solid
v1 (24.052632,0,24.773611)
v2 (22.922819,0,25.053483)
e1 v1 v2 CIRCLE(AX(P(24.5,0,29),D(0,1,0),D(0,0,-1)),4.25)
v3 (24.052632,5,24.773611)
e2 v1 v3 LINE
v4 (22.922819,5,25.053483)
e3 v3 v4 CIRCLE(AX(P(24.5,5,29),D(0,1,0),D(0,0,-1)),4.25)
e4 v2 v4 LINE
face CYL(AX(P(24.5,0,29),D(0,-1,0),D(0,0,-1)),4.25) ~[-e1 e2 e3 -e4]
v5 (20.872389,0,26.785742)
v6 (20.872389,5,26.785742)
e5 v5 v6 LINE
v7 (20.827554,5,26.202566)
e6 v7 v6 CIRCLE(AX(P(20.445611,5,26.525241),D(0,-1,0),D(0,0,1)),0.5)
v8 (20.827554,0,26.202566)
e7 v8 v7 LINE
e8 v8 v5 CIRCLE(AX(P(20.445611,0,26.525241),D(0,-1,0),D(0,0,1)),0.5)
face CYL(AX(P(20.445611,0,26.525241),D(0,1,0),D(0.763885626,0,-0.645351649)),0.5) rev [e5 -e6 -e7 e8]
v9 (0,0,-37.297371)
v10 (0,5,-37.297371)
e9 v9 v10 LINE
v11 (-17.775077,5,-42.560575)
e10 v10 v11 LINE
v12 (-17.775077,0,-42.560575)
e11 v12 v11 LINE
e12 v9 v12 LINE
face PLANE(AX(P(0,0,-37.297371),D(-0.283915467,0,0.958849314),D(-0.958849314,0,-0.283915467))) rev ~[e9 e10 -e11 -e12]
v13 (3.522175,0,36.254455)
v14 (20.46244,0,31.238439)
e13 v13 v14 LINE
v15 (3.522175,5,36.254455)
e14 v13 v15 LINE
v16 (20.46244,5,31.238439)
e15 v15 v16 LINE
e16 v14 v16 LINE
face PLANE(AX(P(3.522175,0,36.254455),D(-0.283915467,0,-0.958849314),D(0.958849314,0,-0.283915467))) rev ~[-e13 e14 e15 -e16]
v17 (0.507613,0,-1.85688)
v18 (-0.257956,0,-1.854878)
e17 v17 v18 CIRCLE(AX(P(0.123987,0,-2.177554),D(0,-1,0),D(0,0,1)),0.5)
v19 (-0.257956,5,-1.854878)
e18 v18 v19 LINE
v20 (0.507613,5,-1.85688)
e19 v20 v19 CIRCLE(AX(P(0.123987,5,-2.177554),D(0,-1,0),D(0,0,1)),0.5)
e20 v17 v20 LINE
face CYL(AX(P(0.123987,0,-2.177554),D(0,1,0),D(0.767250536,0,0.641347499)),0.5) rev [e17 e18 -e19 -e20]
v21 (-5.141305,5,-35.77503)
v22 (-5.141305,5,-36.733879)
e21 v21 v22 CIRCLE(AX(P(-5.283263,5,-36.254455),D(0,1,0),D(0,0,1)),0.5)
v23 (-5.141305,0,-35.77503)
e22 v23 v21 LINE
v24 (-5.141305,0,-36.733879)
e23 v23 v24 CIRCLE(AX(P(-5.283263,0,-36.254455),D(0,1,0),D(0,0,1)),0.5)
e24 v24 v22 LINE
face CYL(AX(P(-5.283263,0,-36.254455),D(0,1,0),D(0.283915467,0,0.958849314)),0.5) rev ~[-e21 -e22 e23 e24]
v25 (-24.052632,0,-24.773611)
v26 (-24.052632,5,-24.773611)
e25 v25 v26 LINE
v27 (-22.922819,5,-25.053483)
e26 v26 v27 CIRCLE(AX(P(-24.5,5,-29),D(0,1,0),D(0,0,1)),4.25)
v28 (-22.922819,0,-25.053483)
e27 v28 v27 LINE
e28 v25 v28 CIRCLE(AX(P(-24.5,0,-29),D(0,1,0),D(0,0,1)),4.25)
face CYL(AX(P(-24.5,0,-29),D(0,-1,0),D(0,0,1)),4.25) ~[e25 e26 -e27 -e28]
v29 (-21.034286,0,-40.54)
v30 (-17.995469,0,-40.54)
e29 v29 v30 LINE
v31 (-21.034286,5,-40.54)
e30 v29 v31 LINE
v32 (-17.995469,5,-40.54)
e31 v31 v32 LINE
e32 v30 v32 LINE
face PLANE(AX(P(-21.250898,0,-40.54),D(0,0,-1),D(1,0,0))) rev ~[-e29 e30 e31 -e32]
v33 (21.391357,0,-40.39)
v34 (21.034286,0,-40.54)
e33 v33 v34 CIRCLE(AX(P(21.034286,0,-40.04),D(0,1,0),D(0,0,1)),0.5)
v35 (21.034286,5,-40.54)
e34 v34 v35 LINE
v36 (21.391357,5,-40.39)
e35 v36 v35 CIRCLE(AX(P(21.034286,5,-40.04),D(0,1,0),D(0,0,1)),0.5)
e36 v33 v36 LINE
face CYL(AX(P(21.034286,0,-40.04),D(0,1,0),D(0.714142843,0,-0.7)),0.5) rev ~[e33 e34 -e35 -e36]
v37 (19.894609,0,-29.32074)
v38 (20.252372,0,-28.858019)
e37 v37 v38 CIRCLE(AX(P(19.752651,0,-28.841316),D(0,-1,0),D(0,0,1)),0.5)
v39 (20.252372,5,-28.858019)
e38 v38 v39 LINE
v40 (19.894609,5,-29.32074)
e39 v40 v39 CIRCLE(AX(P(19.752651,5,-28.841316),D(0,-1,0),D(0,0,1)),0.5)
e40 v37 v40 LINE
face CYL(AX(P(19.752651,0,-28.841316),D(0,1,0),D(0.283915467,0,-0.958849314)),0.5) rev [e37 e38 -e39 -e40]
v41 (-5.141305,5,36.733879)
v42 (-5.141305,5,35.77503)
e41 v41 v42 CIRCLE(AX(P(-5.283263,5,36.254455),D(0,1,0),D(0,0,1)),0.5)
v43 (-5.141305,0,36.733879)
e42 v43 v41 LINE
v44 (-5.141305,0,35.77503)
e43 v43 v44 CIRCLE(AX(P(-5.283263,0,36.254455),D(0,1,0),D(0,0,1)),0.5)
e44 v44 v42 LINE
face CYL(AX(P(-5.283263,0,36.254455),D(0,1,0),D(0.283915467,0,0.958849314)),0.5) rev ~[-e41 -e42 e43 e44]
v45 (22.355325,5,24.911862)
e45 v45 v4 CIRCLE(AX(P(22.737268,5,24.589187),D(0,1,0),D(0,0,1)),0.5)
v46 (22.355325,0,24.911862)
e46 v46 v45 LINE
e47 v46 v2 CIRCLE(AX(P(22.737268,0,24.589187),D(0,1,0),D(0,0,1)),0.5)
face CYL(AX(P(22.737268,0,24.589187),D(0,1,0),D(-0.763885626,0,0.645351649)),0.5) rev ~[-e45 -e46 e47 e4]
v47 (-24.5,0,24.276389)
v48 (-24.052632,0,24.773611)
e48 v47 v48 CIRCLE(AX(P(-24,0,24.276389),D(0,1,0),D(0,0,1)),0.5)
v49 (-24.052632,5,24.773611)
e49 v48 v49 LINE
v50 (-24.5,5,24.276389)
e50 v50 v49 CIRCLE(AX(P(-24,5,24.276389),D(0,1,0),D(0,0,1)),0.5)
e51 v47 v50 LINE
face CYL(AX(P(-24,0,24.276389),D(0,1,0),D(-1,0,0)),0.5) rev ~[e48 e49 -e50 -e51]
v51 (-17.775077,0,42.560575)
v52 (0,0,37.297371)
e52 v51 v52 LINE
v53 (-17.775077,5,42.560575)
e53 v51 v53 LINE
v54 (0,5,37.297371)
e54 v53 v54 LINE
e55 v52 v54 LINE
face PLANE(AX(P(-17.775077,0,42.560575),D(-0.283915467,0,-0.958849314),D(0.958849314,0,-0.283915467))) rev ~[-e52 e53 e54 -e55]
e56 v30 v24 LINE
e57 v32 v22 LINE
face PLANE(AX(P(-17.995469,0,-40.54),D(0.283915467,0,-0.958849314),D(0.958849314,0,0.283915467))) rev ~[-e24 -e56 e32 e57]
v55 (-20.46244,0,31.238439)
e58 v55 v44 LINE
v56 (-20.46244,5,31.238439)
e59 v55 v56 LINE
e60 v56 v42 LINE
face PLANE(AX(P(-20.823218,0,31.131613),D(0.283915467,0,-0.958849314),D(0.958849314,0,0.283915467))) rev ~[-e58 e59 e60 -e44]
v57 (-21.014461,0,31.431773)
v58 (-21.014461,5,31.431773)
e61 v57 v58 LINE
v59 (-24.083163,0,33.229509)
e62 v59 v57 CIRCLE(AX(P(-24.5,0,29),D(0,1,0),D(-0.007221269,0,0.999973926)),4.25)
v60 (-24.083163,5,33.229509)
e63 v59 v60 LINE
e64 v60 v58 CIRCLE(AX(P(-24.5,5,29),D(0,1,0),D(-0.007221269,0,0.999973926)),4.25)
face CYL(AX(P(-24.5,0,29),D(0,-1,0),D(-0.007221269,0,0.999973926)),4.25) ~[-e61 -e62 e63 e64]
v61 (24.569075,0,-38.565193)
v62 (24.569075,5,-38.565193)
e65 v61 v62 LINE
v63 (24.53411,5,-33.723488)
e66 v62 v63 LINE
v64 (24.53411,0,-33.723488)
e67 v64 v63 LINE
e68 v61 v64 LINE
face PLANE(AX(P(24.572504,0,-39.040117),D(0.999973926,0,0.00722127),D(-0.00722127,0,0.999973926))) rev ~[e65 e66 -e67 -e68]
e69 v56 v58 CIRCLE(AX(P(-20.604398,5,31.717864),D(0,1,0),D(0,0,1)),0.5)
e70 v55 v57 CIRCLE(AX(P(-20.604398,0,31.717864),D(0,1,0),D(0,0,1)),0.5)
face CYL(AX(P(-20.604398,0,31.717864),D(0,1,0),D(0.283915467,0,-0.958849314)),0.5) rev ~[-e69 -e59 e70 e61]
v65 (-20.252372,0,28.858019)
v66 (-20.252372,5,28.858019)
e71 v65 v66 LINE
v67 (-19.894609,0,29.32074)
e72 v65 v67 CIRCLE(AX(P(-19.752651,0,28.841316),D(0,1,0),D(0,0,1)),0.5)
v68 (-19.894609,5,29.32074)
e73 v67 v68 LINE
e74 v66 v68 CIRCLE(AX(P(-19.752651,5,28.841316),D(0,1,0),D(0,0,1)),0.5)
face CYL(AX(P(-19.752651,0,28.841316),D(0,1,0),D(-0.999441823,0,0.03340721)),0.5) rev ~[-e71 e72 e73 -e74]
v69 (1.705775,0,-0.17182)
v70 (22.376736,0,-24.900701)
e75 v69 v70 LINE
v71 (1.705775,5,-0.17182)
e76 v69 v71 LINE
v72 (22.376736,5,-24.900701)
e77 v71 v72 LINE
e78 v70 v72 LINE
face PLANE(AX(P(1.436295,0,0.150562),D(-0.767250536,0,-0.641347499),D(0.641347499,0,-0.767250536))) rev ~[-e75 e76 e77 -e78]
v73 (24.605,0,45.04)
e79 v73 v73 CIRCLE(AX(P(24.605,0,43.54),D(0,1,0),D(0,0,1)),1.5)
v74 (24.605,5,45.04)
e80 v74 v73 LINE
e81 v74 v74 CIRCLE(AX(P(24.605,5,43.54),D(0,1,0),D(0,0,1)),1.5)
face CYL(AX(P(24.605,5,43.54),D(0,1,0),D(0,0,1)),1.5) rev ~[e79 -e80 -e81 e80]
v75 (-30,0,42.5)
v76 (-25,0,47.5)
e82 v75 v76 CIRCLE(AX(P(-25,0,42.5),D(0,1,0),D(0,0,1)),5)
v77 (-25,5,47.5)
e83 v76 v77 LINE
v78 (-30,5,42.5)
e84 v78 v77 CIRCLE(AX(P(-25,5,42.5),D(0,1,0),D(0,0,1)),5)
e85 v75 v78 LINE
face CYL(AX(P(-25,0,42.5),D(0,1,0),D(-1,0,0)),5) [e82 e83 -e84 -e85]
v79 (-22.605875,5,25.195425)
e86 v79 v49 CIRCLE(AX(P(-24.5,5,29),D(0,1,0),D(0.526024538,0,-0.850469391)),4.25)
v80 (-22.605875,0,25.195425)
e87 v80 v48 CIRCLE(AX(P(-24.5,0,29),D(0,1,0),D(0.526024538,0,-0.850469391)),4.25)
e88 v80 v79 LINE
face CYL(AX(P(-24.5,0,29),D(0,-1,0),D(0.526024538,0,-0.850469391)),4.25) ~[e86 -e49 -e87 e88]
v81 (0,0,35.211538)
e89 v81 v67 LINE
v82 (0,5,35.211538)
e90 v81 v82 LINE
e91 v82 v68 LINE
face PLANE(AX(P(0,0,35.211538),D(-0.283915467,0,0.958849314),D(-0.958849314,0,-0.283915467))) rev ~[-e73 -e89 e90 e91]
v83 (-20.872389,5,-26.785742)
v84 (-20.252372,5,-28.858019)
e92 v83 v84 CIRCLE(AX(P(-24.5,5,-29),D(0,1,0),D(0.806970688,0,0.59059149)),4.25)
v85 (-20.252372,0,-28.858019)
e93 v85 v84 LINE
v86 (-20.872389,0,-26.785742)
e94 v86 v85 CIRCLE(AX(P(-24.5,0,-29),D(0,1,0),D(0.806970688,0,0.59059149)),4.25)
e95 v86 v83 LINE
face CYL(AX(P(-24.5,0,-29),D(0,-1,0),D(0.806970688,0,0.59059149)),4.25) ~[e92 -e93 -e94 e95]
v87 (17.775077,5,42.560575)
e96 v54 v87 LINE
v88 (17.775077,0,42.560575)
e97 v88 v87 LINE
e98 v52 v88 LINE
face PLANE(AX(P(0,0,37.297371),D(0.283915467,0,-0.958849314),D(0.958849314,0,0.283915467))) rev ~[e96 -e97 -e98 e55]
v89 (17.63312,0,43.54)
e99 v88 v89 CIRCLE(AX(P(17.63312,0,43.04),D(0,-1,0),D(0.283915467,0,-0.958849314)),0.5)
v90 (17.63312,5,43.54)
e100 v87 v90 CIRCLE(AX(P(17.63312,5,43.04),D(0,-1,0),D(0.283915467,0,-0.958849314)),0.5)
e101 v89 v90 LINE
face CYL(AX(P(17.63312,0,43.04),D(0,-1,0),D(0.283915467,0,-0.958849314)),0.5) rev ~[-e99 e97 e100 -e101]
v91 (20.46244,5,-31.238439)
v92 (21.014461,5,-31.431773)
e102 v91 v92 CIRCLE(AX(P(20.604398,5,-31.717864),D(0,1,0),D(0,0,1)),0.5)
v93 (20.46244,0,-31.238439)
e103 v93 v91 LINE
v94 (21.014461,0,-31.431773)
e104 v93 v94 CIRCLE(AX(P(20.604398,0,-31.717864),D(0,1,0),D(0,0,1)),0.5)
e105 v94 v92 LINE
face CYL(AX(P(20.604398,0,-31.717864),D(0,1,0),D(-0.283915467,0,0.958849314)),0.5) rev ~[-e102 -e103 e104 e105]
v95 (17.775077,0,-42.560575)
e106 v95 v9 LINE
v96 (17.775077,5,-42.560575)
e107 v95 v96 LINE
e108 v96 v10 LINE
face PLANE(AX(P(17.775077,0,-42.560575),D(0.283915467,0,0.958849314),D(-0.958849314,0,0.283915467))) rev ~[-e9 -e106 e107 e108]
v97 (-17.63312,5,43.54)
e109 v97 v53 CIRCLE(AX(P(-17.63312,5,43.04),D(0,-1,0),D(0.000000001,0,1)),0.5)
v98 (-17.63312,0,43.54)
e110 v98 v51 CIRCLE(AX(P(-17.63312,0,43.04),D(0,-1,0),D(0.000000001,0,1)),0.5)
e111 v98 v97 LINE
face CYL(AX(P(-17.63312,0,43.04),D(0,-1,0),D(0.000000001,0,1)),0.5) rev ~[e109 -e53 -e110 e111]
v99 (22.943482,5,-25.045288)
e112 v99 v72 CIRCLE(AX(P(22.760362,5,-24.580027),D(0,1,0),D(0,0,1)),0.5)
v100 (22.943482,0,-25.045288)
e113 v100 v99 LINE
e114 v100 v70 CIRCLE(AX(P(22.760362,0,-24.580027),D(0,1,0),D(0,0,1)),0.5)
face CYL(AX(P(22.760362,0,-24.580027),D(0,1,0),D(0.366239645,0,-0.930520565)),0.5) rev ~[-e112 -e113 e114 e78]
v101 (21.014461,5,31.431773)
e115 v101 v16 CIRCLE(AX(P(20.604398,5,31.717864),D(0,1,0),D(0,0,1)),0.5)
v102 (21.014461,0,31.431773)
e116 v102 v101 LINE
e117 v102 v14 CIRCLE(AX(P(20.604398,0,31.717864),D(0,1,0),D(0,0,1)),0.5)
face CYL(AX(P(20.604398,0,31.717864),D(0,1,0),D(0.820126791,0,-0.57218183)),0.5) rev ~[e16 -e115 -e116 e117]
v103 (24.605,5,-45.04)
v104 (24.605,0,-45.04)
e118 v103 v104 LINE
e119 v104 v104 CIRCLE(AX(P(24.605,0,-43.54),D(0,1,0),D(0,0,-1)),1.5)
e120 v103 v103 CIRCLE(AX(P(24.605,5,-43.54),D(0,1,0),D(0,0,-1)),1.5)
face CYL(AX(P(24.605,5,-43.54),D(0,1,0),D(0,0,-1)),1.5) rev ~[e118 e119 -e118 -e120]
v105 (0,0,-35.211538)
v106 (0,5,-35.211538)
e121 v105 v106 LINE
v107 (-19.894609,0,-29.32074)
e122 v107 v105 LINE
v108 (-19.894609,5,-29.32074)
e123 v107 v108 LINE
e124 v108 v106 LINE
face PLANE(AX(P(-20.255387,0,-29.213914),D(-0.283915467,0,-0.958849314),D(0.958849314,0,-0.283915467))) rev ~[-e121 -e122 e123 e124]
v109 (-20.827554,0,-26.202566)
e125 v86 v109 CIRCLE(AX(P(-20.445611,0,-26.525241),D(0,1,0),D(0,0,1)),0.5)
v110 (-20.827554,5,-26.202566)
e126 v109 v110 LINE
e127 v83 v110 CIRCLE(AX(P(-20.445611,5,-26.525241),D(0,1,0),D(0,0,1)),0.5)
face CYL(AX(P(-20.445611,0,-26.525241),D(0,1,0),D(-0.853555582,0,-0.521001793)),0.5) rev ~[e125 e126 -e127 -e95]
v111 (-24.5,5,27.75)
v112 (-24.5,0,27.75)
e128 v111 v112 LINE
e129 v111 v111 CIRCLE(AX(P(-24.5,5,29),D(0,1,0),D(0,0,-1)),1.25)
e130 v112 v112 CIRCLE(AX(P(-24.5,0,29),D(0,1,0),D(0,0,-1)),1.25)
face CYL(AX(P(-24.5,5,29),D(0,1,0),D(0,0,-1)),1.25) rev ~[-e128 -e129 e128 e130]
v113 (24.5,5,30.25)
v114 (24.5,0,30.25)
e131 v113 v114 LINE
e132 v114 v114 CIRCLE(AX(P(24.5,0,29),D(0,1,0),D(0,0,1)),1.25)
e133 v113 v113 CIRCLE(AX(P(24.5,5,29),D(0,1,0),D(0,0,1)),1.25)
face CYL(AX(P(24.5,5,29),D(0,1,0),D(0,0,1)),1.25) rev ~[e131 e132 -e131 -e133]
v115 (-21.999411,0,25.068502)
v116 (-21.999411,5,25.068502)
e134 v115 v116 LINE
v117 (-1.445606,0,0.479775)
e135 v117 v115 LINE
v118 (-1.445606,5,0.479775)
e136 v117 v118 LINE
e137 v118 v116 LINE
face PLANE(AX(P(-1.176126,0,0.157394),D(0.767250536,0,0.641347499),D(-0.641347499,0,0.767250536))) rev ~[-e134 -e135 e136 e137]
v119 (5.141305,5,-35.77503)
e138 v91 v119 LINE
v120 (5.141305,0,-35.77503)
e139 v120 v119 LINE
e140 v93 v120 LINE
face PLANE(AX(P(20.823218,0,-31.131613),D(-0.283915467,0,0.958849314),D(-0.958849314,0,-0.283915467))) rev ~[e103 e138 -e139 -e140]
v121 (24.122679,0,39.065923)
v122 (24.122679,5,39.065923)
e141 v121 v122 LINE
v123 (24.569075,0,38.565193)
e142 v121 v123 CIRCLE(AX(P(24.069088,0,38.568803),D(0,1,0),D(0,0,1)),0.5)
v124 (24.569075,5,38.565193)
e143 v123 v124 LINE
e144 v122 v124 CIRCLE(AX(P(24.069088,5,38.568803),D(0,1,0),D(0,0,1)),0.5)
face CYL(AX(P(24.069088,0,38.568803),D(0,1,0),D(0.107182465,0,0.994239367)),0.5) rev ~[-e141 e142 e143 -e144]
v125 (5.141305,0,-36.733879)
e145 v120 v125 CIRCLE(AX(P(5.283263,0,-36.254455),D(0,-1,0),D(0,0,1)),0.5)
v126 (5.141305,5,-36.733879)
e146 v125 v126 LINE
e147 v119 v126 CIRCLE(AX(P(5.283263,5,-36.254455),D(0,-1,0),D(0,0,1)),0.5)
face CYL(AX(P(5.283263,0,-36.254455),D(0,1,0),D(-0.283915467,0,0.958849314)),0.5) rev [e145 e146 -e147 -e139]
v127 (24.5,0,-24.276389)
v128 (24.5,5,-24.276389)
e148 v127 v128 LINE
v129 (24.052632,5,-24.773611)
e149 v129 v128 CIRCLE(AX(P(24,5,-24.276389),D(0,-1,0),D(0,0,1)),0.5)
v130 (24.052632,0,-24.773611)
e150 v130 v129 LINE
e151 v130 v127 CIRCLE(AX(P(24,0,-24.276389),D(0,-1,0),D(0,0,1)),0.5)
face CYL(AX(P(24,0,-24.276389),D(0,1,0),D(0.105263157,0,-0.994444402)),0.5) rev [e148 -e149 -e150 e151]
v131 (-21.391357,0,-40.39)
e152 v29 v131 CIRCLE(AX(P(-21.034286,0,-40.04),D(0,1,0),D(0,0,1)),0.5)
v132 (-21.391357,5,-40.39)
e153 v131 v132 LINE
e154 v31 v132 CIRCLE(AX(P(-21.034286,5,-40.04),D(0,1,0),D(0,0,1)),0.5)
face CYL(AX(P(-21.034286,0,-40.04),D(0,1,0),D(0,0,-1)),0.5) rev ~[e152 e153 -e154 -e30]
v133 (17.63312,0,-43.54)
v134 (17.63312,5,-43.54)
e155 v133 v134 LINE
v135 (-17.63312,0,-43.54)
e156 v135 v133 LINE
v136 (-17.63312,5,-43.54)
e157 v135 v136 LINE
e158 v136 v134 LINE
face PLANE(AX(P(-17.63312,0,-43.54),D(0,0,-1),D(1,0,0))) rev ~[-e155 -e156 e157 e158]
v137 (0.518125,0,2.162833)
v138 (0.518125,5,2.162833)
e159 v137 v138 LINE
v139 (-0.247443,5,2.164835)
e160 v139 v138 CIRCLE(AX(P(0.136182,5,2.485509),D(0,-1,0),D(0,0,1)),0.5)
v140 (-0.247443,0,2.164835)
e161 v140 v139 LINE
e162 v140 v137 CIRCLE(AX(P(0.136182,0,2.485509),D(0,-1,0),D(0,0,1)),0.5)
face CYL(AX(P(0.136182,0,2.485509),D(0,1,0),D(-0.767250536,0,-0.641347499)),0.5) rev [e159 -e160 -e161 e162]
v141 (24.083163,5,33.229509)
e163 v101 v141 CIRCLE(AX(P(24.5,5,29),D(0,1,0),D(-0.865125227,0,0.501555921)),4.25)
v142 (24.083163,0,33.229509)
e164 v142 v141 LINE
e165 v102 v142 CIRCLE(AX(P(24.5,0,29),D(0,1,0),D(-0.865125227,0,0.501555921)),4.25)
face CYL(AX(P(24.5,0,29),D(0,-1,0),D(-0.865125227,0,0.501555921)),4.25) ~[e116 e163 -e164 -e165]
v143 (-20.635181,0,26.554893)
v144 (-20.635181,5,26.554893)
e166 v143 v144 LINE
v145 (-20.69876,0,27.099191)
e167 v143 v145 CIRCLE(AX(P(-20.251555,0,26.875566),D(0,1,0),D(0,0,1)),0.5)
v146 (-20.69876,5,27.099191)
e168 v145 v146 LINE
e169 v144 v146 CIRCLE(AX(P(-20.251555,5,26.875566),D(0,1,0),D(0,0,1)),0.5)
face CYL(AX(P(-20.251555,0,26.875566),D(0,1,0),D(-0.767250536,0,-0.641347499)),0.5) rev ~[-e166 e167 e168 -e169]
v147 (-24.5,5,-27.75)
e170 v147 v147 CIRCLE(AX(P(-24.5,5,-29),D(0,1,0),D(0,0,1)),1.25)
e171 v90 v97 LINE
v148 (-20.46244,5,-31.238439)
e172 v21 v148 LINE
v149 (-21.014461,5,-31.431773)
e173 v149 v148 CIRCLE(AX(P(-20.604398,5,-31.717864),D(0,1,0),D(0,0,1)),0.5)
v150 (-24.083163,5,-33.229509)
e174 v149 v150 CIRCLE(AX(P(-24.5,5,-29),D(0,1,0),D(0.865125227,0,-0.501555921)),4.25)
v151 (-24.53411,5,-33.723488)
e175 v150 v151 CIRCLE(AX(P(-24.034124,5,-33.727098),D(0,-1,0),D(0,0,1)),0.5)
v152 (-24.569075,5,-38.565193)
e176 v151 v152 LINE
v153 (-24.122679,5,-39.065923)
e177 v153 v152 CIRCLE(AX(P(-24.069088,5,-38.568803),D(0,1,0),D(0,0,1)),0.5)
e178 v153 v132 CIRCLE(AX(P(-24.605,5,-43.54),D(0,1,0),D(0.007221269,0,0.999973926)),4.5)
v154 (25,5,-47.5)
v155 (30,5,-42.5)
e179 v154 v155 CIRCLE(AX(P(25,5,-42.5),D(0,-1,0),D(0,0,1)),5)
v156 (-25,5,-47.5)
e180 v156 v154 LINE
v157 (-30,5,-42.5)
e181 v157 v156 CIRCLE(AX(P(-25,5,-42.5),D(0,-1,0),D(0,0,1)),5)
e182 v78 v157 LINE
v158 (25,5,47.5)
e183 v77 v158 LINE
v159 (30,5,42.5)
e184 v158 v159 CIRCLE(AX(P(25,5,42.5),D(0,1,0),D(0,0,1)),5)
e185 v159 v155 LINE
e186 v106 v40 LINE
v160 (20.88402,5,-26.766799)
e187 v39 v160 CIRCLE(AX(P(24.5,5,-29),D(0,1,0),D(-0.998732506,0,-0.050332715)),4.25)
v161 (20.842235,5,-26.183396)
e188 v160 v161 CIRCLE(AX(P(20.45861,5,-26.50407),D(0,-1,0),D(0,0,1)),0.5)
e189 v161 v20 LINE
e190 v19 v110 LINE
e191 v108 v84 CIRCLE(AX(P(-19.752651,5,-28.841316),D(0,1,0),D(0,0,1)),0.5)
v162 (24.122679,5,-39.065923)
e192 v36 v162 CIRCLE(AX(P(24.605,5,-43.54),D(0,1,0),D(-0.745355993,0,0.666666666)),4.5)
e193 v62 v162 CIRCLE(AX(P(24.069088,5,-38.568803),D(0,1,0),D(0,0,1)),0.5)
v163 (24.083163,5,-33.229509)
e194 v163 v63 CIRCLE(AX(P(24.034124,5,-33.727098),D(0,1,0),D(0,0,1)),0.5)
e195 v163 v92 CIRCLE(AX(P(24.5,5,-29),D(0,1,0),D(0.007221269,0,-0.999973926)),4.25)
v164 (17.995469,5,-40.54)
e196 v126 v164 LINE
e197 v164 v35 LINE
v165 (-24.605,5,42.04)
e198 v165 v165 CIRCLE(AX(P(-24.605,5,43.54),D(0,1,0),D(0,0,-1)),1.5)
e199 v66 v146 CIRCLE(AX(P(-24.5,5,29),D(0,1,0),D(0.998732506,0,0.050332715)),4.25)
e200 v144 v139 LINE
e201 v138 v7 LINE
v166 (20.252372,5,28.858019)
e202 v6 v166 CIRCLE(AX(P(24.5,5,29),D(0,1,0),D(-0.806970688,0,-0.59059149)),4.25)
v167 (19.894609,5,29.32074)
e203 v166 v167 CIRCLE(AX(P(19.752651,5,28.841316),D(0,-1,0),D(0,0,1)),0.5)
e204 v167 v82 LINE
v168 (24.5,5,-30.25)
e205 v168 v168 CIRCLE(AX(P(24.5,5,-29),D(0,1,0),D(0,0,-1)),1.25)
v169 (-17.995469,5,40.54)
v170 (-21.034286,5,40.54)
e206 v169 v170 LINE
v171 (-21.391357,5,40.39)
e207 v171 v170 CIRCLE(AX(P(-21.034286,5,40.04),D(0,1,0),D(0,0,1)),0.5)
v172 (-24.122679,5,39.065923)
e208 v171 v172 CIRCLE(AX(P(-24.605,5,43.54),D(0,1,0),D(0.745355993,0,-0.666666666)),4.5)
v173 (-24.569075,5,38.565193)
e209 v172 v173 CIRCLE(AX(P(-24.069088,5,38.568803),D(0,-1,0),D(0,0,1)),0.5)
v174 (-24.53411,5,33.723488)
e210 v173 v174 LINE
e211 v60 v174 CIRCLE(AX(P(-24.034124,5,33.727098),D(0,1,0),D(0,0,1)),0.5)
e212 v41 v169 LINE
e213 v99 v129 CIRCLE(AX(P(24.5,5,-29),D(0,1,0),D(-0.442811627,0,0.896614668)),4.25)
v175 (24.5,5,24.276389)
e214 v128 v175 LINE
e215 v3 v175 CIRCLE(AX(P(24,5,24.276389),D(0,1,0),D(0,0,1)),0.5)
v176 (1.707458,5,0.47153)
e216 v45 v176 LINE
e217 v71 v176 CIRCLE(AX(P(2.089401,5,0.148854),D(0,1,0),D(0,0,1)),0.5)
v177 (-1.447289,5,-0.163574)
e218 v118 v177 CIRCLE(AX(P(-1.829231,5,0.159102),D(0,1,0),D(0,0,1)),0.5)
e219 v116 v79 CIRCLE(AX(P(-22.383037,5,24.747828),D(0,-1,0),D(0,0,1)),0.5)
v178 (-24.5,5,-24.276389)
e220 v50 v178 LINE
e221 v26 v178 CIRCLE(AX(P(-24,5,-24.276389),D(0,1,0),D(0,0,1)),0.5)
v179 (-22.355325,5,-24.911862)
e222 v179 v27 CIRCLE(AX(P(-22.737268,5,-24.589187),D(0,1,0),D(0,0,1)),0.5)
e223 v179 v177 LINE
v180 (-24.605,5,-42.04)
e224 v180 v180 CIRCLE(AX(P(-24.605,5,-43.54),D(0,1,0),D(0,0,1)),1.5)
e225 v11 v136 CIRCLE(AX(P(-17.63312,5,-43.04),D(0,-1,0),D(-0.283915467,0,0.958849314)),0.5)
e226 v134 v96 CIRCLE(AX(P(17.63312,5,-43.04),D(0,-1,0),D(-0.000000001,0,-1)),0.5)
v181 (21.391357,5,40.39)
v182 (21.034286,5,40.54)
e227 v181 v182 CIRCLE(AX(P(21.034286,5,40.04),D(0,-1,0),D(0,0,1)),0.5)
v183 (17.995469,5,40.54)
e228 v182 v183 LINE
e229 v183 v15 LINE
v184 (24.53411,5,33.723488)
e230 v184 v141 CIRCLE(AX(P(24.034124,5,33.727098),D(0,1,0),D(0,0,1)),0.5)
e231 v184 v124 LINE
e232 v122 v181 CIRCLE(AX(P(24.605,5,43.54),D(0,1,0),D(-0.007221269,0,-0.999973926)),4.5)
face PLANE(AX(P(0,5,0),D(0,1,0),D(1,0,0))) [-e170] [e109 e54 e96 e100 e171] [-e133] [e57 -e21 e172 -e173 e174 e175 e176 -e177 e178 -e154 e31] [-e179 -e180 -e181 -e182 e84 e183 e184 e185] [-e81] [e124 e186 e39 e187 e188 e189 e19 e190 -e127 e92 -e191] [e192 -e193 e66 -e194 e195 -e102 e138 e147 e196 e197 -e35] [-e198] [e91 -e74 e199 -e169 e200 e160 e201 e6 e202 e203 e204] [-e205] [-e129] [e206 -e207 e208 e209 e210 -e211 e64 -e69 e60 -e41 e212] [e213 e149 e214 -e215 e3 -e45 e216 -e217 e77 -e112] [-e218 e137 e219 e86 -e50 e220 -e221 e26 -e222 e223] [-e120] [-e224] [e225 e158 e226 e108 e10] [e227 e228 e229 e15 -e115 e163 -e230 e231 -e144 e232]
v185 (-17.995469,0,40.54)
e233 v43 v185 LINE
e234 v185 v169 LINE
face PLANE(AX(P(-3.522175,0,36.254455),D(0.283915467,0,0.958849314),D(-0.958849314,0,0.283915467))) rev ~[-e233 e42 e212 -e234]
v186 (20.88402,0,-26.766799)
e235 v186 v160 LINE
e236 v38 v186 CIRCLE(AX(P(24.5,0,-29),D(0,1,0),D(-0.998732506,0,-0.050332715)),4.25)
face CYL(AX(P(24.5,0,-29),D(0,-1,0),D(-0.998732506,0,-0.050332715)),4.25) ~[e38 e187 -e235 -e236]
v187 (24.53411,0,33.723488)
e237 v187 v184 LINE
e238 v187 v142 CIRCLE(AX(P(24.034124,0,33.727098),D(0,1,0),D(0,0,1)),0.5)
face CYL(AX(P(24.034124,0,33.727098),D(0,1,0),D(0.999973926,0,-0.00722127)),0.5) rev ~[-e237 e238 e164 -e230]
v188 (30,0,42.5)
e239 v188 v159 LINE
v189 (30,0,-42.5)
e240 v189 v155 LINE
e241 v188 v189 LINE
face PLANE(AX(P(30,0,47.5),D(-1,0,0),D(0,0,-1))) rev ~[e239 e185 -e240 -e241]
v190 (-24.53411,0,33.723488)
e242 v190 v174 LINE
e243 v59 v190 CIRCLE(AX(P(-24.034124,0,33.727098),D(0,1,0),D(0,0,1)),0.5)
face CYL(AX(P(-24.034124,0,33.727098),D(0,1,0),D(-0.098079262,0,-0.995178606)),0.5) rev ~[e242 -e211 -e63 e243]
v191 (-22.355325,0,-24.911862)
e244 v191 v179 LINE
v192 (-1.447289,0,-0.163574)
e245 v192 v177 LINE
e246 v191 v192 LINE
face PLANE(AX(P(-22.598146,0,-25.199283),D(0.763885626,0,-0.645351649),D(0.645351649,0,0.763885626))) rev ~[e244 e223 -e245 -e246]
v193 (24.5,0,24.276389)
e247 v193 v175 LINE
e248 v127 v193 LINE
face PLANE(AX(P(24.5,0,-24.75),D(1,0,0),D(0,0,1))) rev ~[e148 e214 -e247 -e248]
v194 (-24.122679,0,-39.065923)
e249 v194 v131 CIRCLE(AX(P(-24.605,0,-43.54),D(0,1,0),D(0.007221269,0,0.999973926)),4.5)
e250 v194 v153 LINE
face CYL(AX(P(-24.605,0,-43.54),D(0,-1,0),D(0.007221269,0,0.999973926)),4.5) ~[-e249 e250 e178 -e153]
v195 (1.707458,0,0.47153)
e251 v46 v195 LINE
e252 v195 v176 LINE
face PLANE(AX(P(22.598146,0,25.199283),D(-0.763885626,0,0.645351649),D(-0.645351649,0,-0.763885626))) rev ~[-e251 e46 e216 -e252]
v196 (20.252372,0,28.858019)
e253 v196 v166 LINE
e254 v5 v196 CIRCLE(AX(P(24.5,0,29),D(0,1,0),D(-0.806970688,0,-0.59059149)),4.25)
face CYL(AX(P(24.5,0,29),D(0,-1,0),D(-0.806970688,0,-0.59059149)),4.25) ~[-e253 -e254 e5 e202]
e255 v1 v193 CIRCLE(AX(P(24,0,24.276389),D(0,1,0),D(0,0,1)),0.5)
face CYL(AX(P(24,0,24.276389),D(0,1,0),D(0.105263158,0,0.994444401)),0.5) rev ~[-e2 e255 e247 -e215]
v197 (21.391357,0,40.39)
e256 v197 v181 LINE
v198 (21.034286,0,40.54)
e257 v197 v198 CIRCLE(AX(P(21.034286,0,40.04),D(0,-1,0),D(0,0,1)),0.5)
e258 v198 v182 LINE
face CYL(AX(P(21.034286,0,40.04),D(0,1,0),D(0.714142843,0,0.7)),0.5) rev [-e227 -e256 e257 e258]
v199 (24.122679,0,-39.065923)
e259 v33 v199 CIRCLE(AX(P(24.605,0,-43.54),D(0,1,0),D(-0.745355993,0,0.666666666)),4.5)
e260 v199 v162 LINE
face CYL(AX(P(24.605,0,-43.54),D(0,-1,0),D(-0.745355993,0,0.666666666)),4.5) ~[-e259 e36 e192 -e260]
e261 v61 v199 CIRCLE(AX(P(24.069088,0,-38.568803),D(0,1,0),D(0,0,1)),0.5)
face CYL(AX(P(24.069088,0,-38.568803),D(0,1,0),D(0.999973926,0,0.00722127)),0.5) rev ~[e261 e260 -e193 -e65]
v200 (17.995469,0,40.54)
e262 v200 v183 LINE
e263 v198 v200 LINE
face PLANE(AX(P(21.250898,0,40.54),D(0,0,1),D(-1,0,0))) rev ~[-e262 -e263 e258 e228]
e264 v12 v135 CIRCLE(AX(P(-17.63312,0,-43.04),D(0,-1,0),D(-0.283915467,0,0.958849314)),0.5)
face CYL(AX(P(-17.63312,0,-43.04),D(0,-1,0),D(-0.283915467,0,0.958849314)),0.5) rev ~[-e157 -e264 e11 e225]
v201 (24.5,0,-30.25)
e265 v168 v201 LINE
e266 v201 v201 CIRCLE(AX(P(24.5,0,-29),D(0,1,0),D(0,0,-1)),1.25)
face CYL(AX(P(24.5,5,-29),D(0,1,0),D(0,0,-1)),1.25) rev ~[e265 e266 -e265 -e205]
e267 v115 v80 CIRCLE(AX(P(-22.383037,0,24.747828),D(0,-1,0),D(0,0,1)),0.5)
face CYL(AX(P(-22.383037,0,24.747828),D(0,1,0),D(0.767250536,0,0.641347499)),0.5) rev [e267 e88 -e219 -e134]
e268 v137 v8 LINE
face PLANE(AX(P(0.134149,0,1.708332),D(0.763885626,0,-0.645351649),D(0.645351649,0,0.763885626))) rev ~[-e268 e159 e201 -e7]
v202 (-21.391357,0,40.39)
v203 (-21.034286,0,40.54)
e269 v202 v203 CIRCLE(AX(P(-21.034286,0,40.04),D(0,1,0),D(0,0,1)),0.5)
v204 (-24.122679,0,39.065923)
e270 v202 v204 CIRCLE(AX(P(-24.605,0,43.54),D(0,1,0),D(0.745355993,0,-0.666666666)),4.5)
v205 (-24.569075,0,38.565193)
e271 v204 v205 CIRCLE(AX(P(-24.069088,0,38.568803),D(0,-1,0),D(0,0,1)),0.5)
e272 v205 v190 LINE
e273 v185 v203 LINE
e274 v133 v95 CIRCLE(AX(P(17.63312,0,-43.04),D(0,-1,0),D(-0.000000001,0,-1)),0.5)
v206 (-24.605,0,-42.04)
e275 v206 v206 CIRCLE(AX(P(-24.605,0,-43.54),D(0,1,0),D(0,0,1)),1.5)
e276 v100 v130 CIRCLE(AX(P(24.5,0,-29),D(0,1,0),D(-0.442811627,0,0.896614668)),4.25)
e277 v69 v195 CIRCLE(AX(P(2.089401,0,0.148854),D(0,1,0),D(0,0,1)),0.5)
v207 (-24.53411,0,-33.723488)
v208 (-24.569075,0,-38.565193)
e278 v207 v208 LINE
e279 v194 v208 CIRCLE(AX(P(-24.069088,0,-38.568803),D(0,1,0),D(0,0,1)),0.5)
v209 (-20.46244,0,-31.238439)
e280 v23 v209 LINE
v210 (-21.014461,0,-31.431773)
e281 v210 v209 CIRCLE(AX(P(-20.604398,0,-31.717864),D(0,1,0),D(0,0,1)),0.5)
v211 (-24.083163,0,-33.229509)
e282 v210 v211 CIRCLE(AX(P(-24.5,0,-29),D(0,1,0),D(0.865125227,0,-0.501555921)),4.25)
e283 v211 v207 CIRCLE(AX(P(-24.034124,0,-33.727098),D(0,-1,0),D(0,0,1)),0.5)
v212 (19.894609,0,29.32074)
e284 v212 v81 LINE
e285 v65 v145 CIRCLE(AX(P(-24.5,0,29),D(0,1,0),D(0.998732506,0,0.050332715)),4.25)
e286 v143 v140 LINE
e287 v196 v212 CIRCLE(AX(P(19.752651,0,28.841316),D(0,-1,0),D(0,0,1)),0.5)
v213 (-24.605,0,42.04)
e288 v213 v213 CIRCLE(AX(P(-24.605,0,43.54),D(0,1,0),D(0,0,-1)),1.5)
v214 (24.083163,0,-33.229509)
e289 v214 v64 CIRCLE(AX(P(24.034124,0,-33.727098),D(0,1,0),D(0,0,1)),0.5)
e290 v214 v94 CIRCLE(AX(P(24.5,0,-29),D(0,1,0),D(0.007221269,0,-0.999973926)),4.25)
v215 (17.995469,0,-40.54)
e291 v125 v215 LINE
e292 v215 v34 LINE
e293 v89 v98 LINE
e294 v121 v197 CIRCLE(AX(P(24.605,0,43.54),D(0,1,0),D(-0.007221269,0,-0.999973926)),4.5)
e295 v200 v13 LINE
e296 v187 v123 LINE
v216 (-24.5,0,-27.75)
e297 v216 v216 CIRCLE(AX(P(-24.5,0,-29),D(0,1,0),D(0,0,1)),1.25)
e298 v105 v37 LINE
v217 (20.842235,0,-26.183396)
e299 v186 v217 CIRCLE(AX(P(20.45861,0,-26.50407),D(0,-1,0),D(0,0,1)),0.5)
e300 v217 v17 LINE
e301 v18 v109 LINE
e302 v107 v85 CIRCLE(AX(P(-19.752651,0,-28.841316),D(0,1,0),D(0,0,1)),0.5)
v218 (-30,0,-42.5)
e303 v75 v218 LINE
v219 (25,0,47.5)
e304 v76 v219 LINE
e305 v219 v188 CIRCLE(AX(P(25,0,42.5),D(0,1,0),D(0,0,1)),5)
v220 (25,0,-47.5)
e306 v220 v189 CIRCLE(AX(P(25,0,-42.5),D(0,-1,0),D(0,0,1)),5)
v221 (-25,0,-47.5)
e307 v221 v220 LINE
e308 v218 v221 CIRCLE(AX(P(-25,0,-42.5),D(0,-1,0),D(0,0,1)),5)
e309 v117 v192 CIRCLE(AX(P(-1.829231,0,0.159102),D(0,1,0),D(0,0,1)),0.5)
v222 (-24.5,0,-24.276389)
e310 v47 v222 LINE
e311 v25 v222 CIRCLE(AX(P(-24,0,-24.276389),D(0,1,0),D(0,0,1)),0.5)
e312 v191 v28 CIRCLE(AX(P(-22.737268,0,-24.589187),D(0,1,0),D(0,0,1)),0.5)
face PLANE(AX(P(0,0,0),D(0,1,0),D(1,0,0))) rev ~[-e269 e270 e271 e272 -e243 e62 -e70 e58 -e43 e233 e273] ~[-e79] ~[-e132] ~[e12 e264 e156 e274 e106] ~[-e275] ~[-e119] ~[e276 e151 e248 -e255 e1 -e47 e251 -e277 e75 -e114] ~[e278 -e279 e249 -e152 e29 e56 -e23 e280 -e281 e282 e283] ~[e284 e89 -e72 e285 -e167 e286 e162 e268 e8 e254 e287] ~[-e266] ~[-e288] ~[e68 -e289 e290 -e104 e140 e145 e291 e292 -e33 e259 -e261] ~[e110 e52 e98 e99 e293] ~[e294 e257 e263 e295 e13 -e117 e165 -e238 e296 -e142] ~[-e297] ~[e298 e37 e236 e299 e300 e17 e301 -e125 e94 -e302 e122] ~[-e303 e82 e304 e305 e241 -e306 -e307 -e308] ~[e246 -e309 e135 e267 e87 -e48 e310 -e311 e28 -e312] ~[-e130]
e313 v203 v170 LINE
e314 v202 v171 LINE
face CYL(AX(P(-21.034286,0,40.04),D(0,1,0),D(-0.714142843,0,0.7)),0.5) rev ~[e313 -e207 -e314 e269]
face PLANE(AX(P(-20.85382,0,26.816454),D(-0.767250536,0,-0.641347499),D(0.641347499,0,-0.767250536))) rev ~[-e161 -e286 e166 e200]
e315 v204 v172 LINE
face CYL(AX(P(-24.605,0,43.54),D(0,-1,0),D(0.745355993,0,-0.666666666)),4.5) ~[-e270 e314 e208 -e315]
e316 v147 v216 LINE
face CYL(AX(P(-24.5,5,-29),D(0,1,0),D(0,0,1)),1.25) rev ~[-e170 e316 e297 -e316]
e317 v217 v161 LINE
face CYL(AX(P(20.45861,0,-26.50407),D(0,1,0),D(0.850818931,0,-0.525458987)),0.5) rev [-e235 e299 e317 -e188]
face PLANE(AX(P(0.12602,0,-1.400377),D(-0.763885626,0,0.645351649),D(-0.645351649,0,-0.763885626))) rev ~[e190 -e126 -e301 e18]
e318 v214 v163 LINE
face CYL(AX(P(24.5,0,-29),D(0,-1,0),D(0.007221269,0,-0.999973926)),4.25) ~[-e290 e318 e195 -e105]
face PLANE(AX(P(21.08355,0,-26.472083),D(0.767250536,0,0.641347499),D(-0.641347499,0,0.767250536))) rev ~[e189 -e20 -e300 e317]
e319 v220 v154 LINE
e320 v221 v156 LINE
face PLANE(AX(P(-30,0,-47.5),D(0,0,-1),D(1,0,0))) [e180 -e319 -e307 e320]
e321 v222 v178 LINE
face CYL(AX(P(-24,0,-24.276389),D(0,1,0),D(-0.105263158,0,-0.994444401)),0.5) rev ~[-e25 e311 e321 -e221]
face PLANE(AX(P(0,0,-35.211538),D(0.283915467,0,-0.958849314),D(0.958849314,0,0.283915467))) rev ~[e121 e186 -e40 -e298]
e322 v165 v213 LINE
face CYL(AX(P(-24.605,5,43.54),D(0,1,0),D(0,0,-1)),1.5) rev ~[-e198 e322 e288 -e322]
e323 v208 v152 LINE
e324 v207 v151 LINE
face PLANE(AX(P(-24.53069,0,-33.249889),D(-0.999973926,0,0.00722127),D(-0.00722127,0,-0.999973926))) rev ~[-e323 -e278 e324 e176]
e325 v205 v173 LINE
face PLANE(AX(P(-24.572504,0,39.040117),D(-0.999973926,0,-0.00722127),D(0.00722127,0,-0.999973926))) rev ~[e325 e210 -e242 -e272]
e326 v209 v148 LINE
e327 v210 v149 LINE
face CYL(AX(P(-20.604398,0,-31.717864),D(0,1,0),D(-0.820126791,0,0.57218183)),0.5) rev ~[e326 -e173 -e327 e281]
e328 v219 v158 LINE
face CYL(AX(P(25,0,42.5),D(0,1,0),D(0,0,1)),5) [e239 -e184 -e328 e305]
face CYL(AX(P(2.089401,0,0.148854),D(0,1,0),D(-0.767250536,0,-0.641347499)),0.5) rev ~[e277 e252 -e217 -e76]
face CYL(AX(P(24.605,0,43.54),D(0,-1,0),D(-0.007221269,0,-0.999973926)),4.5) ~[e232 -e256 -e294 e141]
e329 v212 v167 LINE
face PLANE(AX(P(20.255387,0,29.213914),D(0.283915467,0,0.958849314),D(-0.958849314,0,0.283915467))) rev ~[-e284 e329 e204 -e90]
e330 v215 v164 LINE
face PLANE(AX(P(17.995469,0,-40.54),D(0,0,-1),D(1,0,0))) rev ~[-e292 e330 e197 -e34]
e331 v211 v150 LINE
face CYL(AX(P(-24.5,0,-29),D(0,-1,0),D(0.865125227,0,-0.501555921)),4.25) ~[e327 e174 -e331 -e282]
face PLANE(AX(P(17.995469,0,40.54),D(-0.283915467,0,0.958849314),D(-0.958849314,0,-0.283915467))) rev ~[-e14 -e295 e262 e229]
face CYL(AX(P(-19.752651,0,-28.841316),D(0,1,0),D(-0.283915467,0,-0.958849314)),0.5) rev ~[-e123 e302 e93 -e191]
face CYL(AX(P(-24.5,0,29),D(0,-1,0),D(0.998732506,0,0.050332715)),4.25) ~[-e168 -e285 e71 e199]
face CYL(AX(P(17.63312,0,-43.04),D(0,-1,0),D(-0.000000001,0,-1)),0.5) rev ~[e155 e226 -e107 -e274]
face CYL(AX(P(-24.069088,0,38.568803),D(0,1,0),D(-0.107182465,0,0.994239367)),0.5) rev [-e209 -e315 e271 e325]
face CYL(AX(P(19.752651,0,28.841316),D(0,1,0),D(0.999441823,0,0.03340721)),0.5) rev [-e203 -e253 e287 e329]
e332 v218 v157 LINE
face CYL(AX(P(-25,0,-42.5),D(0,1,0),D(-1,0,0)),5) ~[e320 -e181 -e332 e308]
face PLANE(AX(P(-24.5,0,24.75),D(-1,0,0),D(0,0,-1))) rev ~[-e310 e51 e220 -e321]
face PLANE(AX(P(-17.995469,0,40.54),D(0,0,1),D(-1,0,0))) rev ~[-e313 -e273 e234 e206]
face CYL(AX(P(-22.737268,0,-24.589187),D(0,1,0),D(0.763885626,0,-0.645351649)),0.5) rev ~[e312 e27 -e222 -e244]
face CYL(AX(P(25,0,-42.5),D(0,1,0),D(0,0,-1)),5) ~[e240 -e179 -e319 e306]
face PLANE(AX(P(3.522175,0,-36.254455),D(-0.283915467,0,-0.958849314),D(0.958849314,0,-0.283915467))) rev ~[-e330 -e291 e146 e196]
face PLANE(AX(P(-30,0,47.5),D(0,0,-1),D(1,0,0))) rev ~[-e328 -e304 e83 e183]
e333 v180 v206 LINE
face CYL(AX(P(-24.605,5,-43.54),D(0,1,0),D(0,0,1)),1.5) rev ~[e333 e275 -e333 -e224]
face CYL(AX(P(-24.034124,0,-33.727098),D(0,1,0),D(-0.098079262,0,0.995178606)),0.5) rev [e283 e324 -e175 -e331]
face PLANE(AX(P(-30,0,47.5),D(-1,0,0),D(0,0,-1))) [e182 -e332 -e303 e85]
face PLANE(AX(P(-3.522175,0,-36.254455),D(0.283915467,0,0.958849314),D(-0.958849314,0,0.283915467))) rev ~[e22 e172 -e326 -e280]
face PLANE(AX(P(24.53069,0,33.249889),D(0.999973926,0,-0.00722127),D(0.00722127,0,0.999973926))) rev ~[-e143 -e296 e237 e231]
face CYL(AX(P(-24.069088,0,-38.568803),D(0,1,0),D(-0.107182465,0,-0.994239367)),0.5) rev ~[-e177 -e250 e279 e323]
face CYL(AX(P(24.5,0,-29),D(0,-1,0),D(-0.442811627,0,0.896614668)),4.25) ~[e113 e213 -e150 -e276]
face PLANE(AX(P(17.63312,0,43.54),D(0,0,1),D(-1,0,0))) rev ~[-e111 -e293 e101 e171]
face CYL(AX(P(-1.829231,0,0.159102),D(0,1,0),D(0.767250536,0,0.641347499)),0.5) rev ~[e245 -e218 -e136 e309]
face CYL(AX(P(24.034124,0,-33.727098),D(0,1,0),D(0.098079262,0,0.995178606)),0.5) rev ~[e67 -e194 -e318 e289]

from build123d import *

# Parameters (mm, degrees)
SKETCH_1_W          = 60
SKETCH_1_H          = 95
EXTRUDE_1_DEPTH     = 5
SKETCH_2_R          = 1.5
SKETCH_2_R_2        = 1.25
CUT_EXTRUDE_1_DEPTH = 5
FILLET_1_R          = 5
CUT_EXTRUDE_4_DEPTH = 5
FILLET_4_R          = 0.5
FILLET_5_R          = 0.5


with BuildPart() as part:
    # 草图1 → 凸台-拉伸1 (new body)
    with BuildSketch(Plane(origin=(0, 0, 0), x_dir=(1, 0, 0), z_dir=(0, 1, 0))):
        Rectangle(SKETCH_1_W, SKETCH_1_H)
    extrude(amount=EXTRUDE_1_DEPTH)

    # 草图2 → 切除-拉伸1 (cut)
    with BuildSketch(Plane(origin=(0, 5, 0), x_dir=(1, 0, 0), z_dir=(0, 1, 0))):
        with Locations(Location((-24.605, 43.54, 0), (0, 0, 270))):
            Circle(SKETCH_2_R)
        with Locations(Location((24.605, 43.54, 0), (0, 0, 90))):
            Circle(SKETCH_2_R)
        with Locations(Location((24.605, -43.54, 0), (0, 0, 270))):
            Circle(SKETCH_2_R)
        with Locations(Location((-24.605, -43.54, 0), (0, 0, 90))):
            Circle(SKETCH_2_R)
        with Locations(Location((-24.5, 29, 0), (0, 0, 270))):
            Circle(SKETCH_2_R_2)
        with Locations(Location((24.5, 29, 0), (0, 0, 90))):
            Circle(SKETCH_2_R_2)
        with Locations(Location((24.5, -29, 0), (0, 0, 270))):
            Circle(SKETCH_2_R_2)
        with Locations(Location((-24.5, -29, 0), (0, 0, 90))):
            Circle(SKETCH_2_R_2)
    extrude(amount=-CUT_EXTRUDE_1_DEPTH, mode=Mode.SUBTRACT)

    # 圆角1
    fillet_1_edges = [part.edges().sort_by_distance(p)[0] for p in [
        (-30, 2.5, -47.5),
        (30, 2.5, -47.5),
        (30, 2.5, 47.5),
        (-30, 2.5, 47.5),
    ]]
    fillet(fillet_1_edges, radius=FILLET_1_R)

    # 草图3 → 切除-拉伸4 (cut)
    with BuildSketch(Plane.XZ):
        with BuildLine():
            Line((-24.572504286, 39.040117332), (-24.530690396, 33.249889187))
            ThreePointArc((-24.530690396, 33.249889187), (-22.391619047, 32.69015308), (-20.823217786, 31.131612664))
            Line((-20.823217786, 31.131612664), (-3.522175136, 36.25445474))
            Line((-3.522175136, 36.25445474), (-17.995469496, 40.54))
            Line((-17.995469496, 40.54), (-21.250898034, 40.54))
            ThreePointArc((-21.250898034, 40.54), (-22.753062375, 39.438740799), (-24.572504286, 39.040117332))
        make_face()
        with BuildLine():
            Line((-17.775077424, 42.560575343), (0, 37.297371479))
            Line((0, 37.297371479), (17.775077424, 42.560575343))
            ThreePointArc((17.775077424, 42.560575343), (18.12794912, 43.111720539), (17.63311969, 43.54))
            Line((17.63311969, 43.54), (-17.63311969, 43.54))
            ThreePointArc((-17.63311969, 43.54), (-18.12794912, 43.111720539), (-17.775077424, 42.560575343))
        make_face()
        with BuildLine():
            ThreePointArc((-22.264395713, 25.385505088), (-23.33791209, 24.911962367), (-24.5, 24.75))
            Line((-24.5, 24.75), (-24.5, -24.75))
            ThreePointArc((-24.5, -24.75), (-23.522899134, -24.863845518), (-22.598145824, -25.199282871))
            Line((-22.598145824, -25.199282871), (-1.176126043, 0.157393604))
            Line((-1.176126043, 0.157393604), (-22.264395713, 25.385505088))
        make_face()
        with BuildLine():
            Line((20.255386851, 29.213914036), (0, 35.211538001))
            Line((0, 35.211538001), (-20.255386851, 29.213914036))
            ThreePointArc((-20.255386851, 29.213914036), (-20.376517668, 27.970731589), (-20.853820398, 26.816453731))
            Line((-20.853820398, 26.816453731), (0.134149451, 1.708331943))
            Line((0.134149451, 1.708331943), (21.070374573, 26.48998617))
            ThreePointArc((21.070374573, 26.48998617), (20.428338154, 27.781775959), (20.255386851, 29.213914036))
        make_face()
        with BuildLine():
            Line((21.250898034, 40.54), (17.995469496, 40.54))
            Line((17.995469496, 40.54), (3.522175136, 36.25445474))
            Line((3.522175136, 36.25445474), (20.823217786, 31.131612664))
            ThreePointArc((20.823217786, 31.131612664), (22.391619047, 32.69015308), (24.530690396, 33.249889187))
            Line((24.530690396, 33.249889187), (24.572504286, 39.040117332))
            ThreePointArc((24.572504286, 39.040117332), (22.753062375, 39.438740799), (21.250898034, 40.54))
        make_face()
        with BuildLine():
            Line((-24.530690396, -33.249889187), (-24.572504286, -39.040117332))
            ThreePointArc((-24.572504286, -39.040117332), (-22.753062375, -39.438740799), (-21.250898034, -40.54))
            Line((-21.250898034, -40.54), (-17.995469496, -40.54))
            Line((-17.995469496, -40.54), (-3.522175136, -36.25445474))
            Line((-3.522175136, -36.25445474), (-20.823217786, -31.131612664))
            ThreePointArc((-20.823217786, -31.131612664), (-22.391619047, -32.69015308), (-24.530690396, -33.249889187))
        make_face()
        with BuildLine():
            Line((24.5, -24.75), (24.5, 24.75))
            ThreePointArc((24.5, 24.75), (23.522899134, 24.863845518), (22.598145824, 25.199282871))
            Line((22.598145824, 25.199282871), (1.436295206, 0.150561732))
            Line((1.436295206, 0.150561732), (22.618050588, -25.189387659))
            ThreePointArc((22.618050588, -25.189387659), (23.533719101, -24.861304405), (24.5, -24.75))
        make_face()
        with BuildLine():
            Line((0.126019713, -1.400376607), (-21.070374573, -26.48998617))
            ThreePointArc((-21.070374573, -26.48998617), (-20.428338154, -27.781775959), (-20.255386851, -29.213914036))
            Line((-20.255386851, -29.213914036), (0, -35.211538001))
            Line((0, -35.211538001), (20.255386851, -29.213914036))
            ThreePointArc((20.255386851, -29.213914036), (20.431537904, -27.771132157), (21.083549516, -26.472082658))
            Line((21.083549516, -26.472082658), (0.126019713, -1.400376607))
        make_face()
        with BuildLine():
            Line((17.775077424, -42.560575343), (0, -37.297371479))
            Line((0, -37.297371479), (-17.775077424, -42.560575343))
            ThreePointArc((-17.775077424, -42.560575343), (-18.12794912, -43.111720539), (-17.63311969, -43.54))
            Line((-17.63311969, -43.54), (17.63311969, -43.54))
            ThreePointArc((17.63311969, -43.54), (18.12794912, -43.111720539), (17.775077424, -42.560575343))
        make_face()
        with BuildLine():
            Line((3.522175136, -36.25445474), (17.995469496, -40.54))
            Line((17.995469496, -40.54), (21.250898034, -40.54))
            ThreePointArc((21.250898034, -40.54), (22.753062375, -39.438740799), (24.572504286, -39.040117332))
            Line((24.572504286, -39.040117332), (24.530690396, -33.249889187))
            ThreePointArc((24.530690396, -33.249889187), (22.391619047, -32.69015308), (20.823217786, -31.131612664))
            Line((20.823217786, -31.131612664), (3.522175136, -36.25445474))
        make_face()
    extrude(amount=-CUT_EXTRUDE_4_DEPTH, mode=Mode.SUBTRACT)

    # 圆角4
    fillet_4_edges = [part.edges().sort_by_distance(p)[0] for p in [
        (-20.823217786, 2.5, 31.131612664),
        (-24.530690396, 2.5, 33.249889187),
        (-24.572504286, 2.5, 39.040117332),
        (-21.250898034, 2.5, 40.54),
        (-3.522175136, 2.5, 36.25445474),
        (-21.250898034, 2.5, -40.54),
        (-24.572504286, 2.5, -39.040117332),
        (-24.530690396, 2.5, -33.249889187),
        (-20.823217786, 2.5, -31.131612664),
        (-3.522175136, 2.5, -36.25445474),
        (-20.853820398, 2.5, 26.816453731),
        (-20.255386851, 2.5, 29.213914036),
        (-20.255386851, 2.5, -29.213914036),
        (-21.070374573, 2.5, -26.48998617),
        (-22.264395713, 2.5, 25.385505088),
        (-1.176126043, 2.5, 0.157393604),
        (-22.598145824, 2.5, -25.199282871),
        (-24.5, 2.5, -24.75),
        (-24.5, 2.5, 24.75),
    ]]
    fillet(fillet_4_edges, radius=FILLET_4_R)

    # 圆角5
    fillet_5_edges = [part.edges().sort_by_distance(p)[0] for p in [
        (24.530690396, 2.5, 33.249889187),
        (20.823217786, 2.5, 31.131612664),
        (21.250898034, 2.5, 40.54),
        (24.572504286, 2.5, 39.040117332),
        (1.436295206, 2.5, 0.150561732),
        (22.598145824, 2.5, 25.199282871),
        (24.5, 2.5, 24.75),
        (24.5, 2.5, -24.75),
        (22.618050588, 2.5, -25.189387659),
        (20.255386851, 2.5, 29.213914036),
        (21.070374573, 2.5, 26.48998617),
        (0.134149451, 2.5, 1.708331943),
        (21.083549516, 2.5, -26.472082658),
        (20.255386851, 2.5, -29.213914036),
        (0.126019713, 2.5, -1.400376607),
        (24.572504286, 2.5, -39.040117332),
        (21.250898034, 2.5, -40.54),
        (3.522175136, 2.5, -36.25445474),
        (20.823217786, 2.5, -31.131612664),
        (24.530690396, 2.5, -33.249889187),
    ]]
    fillet(fillet_5_edges, radius=FILLET_5_R)


solid = part.part
